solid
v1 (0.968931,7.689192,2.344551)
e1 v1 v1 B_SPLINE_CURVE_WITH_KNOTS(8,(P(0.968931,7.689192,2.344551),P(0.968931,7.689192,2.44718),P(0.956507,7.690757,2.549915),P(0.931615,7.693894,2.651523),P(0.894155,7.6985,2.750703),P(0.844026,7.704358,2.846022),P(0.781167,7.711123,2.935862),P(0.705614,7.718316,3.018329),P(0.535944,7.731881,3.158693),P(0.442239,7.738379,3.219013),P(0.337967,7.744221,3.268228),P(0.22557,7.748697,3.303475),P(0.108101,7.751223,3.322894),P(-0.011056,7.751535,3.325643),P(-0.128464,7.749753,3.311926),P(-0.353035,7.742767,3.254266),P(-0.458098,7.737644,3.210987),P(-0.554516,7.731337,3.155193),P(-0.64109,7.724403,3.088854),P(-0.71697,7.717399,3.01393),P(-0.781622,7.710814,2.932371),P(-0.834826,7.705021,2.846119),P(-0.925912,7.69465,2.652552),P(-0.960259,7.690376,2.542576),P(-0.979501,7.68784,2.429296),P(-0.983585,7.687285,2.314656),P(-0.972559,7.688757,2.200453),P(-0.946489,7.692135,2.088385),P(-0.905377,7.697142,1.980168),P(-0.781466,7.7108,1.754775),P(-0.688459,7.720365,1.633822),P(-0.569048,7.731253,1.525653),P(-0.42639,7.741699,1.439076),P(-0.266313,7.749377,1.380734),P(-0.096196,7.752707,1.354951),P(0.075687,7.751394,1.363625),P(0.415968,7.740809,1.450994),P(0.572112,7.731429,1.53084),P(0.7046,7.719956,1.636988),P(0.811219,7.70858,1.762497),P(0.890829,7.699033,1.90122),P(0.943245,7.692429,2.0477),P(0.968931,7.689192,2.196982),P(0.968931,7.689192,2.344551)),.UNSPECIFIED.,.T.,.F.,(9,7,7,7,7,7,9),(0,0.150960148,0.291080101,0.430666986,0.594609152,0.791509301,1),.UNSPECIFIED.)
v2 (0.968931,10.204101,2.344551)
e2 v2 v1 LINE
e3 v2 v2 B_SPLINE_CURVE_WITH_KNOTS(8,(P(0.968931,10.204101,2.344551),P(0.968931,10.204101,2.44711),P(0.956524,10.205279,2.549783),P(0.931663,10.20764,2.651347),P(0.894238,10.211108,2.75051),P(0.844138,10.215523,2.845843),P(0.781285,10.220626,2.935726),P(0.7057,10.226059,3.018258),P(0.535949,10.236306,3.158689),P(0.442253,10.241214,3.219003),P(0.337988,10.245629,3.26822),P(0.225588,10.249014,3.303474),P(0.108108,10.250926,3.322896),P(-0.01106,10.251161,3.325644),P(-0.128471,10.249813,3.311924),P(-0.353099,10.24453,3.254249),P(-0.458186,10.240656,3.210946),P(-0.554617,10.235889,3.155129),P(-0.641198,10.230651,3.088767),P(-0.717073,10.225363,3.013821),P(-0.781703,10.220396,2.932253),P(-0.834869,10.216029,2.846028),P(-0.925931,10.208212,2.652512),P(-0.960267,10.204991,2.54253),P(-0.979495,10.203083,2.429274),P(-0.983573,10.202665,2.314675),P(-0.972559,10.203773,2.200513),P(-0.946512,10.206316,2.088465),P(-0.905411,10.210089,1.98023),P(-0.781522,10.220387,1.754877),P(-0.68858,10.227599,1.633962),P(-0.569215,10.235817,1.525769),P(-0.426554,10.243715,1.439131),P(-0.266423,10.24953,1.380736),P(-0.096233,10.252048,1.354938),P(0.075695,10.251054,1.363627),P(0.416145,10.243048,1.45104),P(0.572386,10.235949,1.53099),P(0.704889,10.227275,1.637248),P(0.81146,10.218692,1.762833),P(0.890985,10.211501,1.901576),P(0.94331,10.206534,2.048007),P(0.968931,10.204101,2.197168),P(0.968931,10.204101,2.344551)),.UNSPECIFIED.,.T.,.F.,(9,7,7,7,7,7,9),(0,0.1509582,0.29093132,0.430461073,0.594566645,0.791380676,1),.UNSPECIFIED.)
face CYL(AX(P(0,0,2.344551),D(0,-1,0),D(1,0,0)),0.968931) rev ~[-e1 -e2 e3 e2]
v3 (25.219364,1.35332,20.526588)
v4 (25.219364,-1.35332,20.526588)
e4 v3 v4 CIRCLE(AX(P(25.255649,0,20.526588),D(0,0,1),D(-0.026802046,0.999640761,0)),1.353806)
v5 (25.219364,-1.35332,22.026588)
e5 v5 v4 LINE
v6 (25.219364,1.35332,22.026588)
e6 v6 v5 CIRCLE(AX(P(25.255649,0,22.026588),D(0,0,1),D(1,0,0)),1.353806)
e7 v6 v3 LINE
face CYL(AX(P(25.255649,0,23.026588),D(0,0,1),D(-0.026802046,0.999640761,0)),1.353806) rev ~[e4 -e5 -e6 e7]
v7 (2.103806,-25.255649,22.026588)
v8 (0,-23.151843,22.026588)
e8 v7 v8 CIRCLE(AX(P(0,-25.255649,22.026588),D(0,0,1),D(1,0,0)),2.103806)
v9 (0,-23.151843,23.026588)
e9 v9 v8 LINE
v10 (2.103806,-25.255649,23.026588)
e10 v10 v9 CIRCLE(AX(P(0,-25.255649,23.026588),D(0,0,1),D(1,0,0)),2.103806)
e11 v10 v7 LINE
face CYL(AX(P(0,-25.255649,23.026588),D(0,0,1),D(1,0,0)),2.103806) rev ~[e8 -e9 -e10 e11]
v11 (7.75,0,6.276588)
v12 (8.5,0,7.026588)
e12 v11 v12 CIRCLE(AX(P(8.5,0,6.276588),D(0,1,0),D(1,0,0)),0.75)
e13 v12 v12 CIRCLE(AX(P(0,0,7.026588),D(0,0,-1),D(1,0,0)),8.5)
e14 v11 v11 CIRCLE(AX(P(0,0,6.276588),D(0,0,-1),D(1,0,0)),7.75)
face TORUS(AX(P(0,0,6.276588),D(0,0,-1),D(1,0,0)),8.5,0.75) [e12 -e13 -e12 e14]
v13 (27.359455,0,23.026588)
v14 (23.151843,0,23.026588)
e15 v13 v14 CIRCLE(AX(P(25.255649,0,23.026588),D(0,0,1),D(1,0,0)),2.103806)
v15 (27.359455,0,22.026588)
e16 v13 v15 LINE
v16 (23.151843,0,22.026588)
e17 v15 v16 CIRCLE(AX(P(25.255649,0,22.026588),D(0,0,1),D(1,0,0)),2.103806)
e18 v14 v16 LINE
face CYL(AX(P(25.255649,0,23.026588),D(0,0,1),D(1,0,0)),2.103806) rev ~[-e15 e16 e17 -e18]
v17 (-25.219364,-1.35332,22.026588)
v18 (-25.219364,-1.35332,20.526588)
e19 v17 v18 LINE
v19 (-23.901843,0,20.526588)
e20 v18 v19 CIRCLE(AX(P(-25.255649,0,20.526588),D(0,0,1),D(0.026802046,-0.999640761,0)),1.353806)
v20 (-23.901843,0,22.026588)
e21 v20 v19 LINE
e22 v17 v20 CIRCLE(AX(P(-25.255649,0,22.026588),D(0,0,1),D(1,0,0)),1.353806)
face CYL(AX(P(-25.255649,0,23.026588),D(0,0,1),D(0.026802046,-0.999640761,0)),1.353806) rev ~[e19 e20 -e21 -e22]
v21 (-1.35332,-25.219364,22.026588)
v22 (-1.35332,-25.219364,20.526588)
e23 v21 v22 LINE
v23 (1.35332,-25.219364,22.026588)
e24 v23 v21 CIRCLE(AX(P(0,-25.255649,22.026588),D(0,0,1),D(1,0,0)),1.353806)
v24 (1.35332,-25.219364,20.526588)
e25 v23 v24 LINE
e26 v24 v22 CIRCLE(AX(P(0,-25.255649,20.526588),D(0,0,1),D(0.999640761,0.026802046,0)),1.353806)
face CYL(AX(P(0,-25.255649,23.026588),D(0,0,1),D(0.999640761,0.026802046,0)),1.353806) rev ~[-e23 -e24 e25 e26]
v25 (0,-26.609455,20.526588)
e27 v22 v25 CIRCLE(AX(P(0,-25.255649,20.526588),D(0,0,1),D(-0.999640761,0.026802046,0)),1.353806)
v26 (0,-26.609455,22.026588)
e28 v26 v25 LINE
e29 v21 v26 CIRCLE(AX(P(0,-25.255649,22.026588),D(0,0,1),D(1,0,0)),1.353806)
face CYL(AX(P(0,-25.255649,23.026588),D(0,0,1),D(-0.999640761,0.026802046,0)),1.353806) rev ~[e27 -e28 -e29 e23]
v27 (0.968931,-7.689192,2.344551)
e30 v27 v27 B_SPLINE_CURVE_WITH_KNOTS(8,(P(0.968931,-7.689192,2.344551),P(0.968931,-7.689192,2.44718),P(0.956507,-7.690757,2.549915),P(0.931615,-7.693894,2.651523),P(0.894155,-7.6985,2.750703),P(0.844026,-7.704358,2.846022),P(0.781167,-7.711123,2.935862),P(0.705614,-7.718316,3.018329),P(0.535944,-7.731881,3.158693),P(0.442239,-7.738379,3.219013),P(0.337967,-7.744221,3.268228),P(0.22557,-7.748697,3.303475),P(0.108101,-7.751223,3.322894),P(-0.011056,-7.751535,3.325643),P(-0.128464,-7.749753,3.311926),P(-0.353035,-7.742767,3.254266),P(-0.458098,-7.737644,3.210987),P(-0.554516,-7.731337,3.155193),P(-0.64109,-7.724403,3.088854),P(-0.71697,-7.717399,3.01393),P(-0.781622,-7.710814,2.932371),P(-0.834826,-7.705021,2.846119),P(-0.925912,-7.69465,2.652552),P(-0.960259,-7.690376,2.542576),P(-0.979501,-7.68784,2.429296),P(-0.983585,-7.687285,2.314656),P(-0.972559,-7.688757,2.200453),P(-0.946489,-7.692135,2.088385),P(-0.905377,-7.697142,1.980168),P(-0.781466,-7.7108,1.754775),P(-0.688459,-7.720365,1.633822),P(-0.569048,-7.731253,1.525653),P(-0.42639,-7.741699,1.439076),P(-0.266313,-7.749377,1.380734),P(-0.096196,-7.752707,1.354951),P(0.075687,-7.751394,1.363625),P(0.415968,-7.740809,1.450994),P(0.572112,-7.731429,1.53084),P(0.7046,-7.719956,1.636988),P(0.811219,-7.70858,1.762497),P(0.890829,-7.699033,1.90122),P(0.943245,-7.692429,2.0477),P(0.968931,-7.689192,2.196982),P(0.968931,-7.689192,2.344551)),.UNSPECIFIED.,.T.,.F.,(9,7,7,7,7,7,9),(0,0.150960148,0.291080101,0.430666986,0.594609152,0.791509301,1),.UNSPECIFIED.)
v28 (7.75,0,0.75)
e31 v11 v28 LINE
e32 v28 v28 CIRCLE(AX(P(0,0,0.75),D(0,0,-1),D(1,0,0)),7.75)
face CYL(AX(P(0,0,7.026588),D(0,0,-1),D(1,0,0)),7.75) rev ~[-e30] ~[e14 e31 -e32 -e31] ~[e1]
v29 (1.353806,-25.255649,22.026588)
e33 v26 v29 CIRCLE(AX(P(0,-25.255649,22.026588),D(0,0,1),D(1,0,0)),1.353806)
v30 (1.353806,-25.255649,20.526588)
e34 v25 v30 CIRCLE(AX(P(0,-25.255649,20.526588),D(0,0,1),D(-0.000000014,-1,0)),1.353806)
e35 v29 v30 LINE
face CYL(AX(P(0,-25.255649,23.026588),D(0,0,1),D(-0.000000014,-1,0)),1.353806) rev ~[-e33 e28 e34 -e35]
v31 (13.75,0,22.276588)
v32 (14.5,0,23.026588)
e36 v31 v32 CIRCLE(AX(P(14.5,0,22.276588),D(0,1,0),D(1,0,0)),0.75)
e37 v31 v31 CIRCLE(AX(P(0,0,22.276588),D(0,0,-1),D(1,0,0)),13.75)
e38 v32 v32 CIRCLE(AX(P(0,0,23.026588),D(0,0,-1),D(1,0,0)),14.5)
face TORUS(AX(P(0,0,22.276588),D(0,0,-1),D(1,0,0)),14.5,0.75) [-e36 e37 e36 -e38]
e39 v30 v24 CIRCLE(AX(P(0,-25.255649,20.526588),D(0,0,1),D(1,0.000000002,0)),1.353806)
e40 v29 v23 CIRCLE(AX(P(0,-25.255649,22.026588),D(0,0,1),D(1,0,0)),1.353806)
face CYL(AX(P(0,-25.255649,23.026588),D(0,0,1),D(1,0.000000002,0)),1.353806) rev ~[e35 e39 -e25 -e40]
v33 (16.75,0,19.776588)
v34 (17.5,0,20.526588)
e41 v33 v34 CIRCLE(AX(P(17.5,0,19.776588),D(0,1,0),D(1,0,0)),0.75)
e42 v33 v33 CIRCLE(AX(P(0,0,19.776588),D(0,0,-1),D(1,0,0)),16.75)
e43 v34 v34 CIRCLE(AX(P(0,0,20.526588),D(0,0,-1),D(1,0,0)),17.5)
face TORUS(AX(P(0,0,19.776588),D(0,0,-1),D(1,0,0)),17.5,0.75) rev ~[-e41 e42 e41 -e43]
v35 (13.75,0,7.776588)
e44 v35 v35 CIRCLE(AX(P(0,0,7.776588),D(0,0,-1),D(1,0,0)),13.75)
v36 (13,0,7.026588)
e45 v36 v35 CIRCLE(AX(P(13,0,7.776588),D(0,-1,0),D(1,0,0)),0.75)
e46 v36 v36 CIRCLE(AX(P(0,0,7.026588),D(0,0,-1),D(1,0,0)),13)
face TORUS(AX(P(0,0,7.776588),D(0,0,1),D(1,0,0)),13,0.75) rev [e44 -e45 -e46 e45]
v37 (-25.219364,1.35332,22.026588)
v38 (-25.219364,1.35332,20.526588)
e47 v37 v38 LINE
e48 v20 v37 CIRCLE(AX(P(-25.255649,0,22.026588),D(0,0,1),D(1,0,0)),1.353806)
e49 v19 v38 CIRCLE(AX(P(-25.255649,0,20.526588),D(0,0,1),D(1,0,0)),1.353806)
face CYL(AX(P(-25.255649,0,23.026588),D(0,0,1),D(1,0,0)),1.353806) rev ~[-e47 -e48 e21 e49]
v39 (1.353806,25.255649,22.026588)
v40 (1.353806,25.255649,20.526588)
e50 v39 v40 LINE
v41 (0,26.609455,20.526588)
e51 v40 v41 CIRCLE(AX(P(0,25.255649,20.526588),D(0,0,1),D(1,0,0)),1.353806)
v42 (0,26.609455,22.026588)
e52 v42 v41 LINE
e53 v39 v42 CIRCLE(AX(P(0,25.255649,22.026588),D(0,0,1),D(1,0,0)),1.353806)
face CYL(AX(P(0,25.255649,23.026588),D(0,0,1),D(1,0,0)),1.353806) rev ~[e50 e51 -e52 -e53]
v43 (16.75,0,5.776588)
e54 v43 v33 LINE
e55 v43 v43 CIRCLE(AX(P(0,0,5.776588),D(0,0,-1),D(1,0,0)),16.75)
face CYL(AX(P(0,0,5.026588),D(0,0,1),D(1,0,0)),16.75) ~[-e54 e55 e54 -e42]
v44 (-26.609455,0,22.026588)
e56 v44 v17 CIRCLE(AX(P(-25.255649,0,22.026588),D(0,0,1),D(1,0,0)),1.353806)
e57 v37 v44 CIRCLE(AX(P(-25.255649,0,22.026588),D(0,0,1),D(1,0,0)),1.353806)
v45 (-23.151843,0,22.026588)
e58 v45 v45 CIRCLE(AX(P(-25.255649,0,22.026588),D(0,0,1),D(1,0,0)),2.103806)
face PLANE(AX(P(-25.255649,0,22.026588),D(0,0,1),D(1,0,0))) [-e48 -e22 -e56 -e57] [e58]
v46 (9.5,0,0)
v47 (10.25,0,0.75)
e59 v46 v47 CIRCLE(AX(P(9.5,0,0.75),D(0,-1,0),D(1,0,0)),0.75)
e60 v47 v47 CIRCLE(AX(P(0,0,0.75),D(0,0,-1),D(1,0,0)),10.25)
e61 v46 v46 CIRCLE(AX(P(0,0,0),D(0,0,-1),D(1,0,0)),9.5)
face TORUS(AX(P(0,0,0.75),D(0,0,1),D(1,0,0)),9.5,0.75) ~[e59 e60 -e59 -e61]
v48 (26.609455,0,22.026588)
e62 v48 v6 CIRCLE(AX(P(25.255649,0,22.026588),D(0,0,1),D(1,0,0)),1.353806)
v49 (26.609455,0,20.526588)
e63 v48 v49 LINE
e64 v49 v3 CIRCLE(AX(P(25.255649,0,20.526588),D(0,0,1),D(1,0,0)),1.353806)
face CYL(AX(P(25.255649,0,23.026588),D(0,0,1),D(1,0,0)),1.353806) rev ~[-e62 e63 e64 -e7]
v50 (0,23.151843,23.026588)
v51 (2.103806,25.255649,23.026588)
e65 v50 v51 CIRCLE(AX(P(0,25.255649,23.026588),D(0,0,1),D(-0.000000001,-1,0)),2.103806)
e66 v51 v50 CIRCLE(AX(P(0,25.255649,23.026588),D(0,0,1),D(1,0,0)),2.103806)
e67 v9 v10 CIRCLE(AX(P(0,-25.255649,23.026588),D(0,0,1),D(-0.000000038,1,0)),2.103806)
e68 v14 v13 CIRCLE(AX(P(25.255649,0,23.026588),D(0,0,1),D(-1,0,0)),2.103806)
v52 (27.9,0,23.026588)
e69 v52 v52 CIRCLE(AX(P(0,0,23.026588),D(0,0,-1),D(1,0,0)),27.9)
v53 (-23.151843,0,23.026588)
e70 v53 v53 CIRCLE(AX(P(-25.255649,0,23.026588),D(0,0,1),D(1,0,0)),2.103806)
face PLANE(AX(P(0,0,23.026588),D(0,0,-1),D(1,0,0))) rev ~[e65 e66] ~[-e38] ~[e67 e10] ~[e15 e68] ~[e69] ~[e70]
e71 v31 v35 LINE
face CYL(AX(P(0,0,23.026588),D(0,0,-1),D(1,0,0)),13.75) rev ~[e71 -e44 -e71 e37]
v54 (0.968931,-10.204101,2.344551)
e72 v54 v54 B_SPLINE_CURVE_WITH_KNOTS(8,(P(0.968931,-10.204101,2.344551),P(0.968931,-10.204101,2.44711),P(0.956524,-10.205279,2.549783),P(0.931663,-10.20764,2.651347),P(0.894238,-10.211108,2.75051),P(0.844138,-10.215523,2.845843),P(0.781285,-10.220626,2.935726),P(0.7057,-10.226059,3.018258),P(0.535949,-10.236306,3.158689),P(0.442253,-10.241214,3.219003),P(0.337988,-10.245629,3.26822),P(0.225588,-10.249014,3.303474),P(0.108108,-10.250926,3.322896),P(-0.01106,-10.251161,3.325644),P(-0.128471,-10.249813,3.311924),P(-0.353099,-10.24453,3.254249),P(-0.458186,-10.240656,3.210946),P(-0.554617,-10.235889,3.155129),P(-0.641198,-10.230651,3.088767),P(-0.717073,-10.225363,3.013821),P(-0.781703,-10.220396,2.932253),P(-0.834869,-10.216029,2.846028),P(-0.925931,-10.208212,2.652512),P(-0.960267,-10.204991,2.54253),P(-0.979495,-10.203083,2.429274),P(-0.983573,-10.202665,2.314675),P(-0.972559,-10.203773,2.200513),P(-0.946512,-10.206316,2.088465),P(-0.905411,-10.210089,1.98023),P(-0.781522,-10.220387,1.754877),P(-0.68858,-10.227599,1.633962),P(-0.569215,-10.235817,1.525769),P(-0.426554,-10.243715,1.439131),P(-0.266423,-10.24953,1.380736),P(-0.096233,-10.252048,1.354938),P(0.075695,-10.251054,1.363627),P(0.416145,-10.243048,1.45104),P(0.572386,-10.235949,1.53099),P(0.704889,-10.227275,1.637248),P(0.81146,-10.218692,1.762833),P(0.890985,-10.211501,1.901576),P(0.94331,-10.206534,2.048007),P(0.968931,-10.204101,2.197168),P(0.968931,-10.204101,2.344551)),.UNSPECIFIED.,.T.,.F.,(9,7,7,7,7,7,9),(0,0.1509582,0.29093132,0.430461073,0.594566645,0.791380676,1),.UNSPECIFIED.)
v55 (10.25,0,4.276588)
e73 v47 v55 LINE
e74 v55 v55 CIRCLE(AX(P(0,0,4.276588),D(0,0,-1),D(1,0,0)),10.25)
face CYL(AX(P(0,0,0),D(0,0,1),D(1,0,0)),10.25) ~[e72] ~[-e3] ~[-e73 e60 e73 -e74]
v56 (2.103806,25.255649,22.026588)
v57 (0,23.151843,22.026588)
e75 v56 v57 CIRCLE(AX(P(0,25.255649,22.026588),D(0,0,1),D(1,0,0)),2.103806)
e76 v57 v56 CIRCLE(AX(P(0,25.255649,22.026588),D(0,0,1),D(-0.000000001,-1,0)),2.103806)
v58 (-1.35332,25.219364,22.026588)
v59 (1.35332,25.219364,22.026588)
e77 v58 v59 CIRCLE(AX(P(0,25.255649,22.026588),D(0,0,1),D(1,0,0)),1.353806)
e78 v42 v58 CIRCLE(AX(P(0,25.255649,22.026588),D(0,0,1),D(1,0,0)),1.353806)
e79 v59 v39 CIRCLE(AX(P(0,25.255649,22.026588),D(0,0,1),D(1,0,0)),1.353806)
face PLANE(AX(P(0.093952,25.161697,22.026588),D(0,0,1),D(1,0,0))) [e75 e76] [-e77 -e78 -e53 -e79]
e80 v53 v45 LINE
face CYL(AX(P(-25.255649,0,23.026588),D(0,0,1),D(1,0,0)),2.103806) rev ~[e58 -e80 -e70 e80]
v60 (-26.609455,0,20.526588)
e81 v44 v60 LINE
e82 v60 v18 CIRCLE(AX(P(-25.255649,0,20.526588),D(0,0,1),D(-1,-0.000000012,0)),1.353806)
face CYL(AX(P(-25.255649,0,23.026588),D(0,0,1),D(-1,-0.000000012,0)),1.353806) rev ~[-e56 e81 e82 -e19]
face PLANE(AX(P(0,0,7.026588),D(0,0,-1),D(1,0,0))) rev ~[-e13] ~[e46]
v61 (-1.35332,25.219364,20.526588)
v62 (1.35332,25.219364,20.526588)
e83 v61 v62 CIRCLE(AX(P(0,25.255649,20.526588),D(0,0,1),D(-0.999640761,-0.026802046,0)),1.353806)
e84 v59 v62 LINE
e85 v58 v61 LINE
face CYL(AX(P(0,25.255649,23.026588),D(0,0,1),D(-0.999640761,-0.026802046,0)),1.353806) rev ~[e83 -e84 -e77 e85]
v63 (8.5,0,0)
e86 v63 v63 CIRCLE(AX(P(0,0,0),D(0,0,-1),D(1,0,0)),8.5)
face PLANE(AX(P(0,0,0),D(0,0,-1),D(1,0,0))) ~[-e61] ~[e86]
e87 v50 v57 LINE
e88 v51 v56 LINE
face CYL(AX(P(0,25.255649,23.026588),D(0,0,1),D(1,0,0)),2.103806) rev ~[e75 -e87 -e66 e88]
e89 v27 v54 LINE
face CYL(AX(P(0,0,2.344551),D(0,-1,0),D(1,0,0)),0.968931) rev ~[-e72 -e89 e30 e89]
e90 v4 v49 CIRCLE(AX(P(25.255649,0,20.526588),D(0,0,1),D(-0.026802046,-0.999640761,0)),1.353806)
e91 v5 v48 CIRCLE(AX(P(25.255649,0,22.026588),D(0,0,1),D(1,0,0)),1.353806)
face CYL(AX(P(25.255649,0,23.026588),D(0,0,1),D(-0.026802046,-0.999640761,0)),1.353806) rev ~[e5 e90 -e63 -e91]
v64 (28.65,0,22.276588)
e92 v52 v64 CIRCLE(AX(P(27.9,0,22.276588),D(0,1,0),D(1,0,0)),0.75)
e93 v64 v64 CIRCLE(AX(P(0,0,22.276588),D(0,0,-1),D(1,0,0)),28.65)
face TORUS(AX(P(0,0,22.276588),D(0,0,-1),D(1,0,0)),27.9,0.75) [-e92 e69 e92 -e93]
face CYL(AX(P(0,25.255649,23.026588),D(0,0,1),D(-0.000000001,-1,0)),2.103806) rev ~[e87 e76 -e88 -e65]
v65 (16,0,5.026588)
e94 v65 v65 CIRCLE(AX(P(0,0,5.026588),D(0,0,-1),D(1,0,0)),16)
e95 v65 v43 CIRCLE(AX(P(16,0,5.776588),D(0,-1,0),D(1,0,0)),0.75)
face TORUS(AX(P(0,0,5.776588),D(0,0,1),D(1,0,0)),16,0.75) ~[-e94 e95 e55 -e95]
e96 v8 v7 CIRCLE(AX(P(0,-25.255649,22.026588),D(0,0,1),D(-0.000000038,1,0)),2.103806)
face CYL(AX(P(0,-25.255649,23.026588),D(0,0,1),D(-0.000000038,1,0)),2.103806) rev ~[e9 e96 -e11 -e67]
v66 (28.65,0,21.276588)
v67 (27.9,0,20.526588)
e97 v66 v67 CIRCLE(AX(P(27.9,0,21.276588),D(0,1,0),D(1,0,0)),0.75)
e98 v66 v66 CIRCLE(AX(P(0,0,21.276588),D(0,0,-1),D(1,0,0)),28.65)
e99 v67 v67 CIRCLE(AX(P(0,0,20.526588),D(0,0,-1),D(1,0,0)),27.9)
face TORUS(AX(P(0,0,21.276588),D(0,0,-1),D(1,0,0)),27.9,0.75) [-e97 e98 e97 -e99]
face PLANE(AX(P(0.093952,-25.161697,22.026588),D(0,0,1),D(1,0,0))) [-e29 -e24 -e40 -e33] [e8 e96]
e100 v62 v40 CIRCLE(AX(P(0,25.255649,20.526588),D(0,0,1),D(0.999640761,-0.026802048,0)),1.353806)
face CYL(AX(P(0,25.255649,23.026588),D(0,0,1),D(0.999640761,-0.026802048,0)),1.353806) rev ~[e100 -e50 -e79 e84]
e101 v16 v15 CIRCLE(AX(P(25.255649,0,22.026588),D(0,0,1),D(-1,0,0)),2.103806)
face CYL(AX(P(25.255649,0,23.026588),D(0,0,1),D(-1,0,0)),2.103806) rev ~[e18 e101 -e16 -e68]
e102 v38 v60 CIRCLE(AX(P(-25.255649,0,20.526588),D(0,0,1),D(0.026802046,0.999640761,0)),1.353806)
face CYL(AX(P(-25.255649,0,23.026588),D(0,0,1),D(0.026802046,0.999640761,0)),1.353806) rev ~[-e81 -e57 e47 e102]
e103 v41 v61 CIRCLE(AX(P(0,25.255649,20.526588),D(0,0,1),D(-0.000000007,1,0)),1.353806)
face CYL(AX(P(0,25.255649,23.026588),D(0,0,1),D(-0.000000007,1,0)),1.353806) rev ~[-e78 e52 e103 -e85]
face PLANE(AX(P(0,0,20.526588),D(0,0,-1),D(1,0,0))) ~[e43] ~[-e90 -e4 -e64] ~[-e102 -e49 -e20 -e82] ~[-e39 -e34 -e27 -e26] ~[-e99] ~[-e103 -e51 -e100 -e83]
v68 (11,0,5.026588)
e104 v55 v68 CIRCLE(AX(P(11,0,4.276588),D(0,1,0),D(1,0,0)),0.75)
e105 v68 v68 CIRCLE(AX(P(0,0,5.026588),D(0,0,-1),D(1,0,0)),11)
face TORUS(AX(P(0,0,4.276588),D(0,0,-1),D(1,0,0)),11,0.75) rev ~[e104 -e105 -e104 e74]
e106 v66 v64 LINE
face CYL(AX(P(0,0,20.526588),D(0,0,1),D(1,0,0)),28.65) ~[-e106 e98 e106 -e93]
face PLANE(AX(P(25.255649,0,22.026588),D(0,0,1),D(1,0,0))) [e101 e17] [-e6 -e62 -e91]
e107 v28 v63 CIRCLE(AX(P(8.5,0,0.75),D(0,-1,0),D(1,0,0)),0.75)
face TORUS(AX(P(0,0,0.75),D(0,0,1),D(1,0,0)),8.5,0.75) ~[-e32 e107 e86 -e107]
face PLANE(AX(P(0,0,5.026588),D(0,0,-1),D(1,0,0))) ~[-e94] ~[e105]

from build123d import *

# Parameters (mm, degrees)
F3_DEPTH = 25
F4_R     = 1.3538061079
F4_R_2   = 2.1038061079
F5_DEPTH = 1
F6_R     = 0.75
F7_R     = 0.9689306769
F8_DEPTH = 12.8081981093


with BuildPart() as f1:
    # F0 (on Front) → F1 (revolve)
    with BuildSketch(Plane.XZ):
        Polygon((7.75, 7.0265881751), (7.75, 0), (10.25, 0), (10.25, 5.0265881751), (16.75, 5.0265881751), (16.75, 20.5265881751), (28.65, 20.5265881751), (28.65, 23.0265881751), (13.75, 23.0265881751), (13.75, 7.0265881751), align=None)
    revolve(axis=Axis((0, 0, 10.9123289585), (0, 0, -1)))

    # F2 (on face) → F3 (cut)
    with BuildSketch(Plane.XY.offset(23.0265881751)):
        with BuildLine():
            ThreePointArc((1.3538061079, -25.2556488183), (1.3536845173, -25.2375048022), (1.3533197674, -25.2193640452))
            ThreePointArc((1.3533197674, -25.2193640452), (0, -25.2556488183), (-1.3533197674, -25.2193640452))
            ThreePointArc((-1.3533197674, -25.2193640452), (-0.9700292653, -26.2000185565), (-1.89e-08, -26.6094549262))
            ThreePointArc((-1.89e-08, -26.6094549262), (0.9572854726, -26.2129343043), (1.3538061079, -25.2556488183))
        make_face()
        with BuildLine():
            ThreePointArc((-1.3533197674, -25.2193640452), (0, -25.2556488183), (1.3533197674, -25.2193640452))
            ThreePointArc((1.3533197674, -25.2193640452), (0, -23.9018427105), (-1.3533197674, -25.2193640452))
        make_face()
        with BuildLine():
            ThreePointArc((25.2193640452, 1.3533197674), (25.2465759954, 0.6769030539), (25.2556488183, 0))
            ThreePointArc((25.2556488183, 0), (25.2465759954, -0.6769030539), (25.2193640452, -1.3533197674))
            ThreePointArc((25.2193640452, -1.3533197674), (26.2000185632, -0.9700292587), (26.6094549262, 0))
            ThreePointArc((26.6094549262, 0), (26.2000185632, 0.9700292587), (25.2193640452, 1.3533197674))
        make_face()
        with BuildLine():
            ThreePointArc((25.2193640452, -1.3533197674), (25.2465759954, -0.6769030539), (25.2556488183, 0))
            ThreePointArc((25.2556488183, 0), (25.2465759954, 0.6769030539), (25.2193640452, 1.3533197674))
            ThreePointArc((25.2193640452, 1.3533197674), (23.9018427105, 0), (25.2193640452, -1.3533197674))
        make_face()
        with BuildLine():
            ThreePointArc((-1.3533197674, 25.2193640452), (0, 25.2556488183), (1.3533197674, 25.2193640452))
            ThreePointArc((1.3533197674, 25.2193640452), (1.3536845173, 25.2375048022), (1.3538061079, 25.2556488183))
            ThreePointArc((1.3538061079, 25.2556488183), (0.9572854758, 26.2129343011), (-9.8e-09, 26.6094549262))
            ThreePointArc((-9.8e-09, 26.6094549262), (-0.9700292621, 26.2000185597), (-1.3533197674, 25.2193640452))
        make_face()
        with BuildLine():
            ThreePointArc((-1.3533197674, 25.2193640452), (0, 23.9018427105), (1.3533197674, 25.2193640452))
            ThreePointArc((1.3533197674, 25.2193640452), (0, 25.2556488183), (-1.3533197674, 25.2193640452))
        make_face()
        with BuildLine():
            ThreePointArc((-25.2193640452, -1.3533197674), (-25.2556488183, 0), (-25.2193640452, 1.3533197674))
            ThreePointArc((-25.2193640452, 1.3533197674), (-26.2000185693, 0.9700292527), (-26.6094549262, -1.7e-08))
            ThreePointArc((-26.6094549262, -1.7e-08), (-26.2000185572, -0.9700292646), (-25.2193640452, -1.3533197674))
        make_face()
        with BuildLine():
            ThreePointArc((-23.9018427105, 0), (-24.2856195597, 0.9443697449), (-25.2193640452, 1.3533197674))
            ThreePointArc((-25.2193640452, 1.3533197674), (-25.2556488183, 0), (-25.2193640452, -1.3533197674))
            ThreePointArc((-25.2193640452, -1.3533197674), (-24.2856195597, -0.9443697449), (-23.9018427105, 0))
        make_face()
    extrude(amount=-F3_DEPTH, mode=Mode.SUBTRACT)

    # F4 (on face) → F5 (cut)
    with BuildSketch(Plane.XY.offset(23.0265881751)):
        with BuildLine():
            ThreePointArc((2.1038061079, -25.2556488183), (1.4876155372, -23.7680332252), (-7.92e-08, -23.1518427105))
            ThreePointArc((-7.92e-08, -23.1518427105), (-1.4876155372, -26.7432644115), (2.1038061079, -25.2556488183))
        make_face()
        with Locations((0, -25.2556488183)):
            Circle(F4_R, mode=Mode.SUBTRACT)
        with Locations((-25.2556488183, 0)):
            Circle(F4_R_2)
        with Locations((-25.2556488183, 0)):
            Circle(F4_R, mode=Mode.SUBTRACT)
        with BuildLine():
            ThreePointArc((2.1038061079, 25.2556488183), (-1.4876155641, 26.7432643846), (-3e-09, 23.1518427105))
            ThreePointArc((-3e-09, 23.1518427105), (1.4876155641, 23.7680332521), (2.1038061079, 25.2556488183))
        make_face()
        with Locations((0, 25.2556488183)):
            Circle(F4_R, mode=Mode.SUBTRACT)
        with BuildLine():
            ThreePointArc((27.3594549262, 0), (25.2556488183, 2.1038061079), (23.1518427105, 0))
            ThreePointArc((23.1518427105, 0), (25.2556488183, -2.1038061079), (27.3594549262, 0))
        make_face()
        with Locations((25.2556488183, 0)):
            Circle(F4_R, mode=Mode.SUBTRACT)
    extrude(amount=-F5_DEPTH, mode=Mode.SUBTRACT)

    # F6
    f6_edges = [f1.edges().sort_by_distance(p)[0] for p in [
        (-13.75, 0, 23.026588),
        (-28.65, 0, 23.026588),
        (-28.65, 0, 20.526588),
        (-16.75, 0, 20.526588),
        (-16.75, 0, 5.026588),
        (-10.25, 0, 5.026588),
        (-10.25, 0, 0),
        (-7.75, 0, 0),
        (-7.75, 0, 7.026588),
        (-13.75, 0, 7.026588),
    ]]
    fillet(f6_edges, radius=F6_R)

    # F7 (on Front) → F8 (cut, symmetric)
    with BuildSketch(Plane.XZ):
        with Locations((0, 2.3445507977)):
            Circle(F7_R)
    extrude(amount=F8_DEPTH, both=True, mode=Mode.SUBTRACT)


solid = f1.part
